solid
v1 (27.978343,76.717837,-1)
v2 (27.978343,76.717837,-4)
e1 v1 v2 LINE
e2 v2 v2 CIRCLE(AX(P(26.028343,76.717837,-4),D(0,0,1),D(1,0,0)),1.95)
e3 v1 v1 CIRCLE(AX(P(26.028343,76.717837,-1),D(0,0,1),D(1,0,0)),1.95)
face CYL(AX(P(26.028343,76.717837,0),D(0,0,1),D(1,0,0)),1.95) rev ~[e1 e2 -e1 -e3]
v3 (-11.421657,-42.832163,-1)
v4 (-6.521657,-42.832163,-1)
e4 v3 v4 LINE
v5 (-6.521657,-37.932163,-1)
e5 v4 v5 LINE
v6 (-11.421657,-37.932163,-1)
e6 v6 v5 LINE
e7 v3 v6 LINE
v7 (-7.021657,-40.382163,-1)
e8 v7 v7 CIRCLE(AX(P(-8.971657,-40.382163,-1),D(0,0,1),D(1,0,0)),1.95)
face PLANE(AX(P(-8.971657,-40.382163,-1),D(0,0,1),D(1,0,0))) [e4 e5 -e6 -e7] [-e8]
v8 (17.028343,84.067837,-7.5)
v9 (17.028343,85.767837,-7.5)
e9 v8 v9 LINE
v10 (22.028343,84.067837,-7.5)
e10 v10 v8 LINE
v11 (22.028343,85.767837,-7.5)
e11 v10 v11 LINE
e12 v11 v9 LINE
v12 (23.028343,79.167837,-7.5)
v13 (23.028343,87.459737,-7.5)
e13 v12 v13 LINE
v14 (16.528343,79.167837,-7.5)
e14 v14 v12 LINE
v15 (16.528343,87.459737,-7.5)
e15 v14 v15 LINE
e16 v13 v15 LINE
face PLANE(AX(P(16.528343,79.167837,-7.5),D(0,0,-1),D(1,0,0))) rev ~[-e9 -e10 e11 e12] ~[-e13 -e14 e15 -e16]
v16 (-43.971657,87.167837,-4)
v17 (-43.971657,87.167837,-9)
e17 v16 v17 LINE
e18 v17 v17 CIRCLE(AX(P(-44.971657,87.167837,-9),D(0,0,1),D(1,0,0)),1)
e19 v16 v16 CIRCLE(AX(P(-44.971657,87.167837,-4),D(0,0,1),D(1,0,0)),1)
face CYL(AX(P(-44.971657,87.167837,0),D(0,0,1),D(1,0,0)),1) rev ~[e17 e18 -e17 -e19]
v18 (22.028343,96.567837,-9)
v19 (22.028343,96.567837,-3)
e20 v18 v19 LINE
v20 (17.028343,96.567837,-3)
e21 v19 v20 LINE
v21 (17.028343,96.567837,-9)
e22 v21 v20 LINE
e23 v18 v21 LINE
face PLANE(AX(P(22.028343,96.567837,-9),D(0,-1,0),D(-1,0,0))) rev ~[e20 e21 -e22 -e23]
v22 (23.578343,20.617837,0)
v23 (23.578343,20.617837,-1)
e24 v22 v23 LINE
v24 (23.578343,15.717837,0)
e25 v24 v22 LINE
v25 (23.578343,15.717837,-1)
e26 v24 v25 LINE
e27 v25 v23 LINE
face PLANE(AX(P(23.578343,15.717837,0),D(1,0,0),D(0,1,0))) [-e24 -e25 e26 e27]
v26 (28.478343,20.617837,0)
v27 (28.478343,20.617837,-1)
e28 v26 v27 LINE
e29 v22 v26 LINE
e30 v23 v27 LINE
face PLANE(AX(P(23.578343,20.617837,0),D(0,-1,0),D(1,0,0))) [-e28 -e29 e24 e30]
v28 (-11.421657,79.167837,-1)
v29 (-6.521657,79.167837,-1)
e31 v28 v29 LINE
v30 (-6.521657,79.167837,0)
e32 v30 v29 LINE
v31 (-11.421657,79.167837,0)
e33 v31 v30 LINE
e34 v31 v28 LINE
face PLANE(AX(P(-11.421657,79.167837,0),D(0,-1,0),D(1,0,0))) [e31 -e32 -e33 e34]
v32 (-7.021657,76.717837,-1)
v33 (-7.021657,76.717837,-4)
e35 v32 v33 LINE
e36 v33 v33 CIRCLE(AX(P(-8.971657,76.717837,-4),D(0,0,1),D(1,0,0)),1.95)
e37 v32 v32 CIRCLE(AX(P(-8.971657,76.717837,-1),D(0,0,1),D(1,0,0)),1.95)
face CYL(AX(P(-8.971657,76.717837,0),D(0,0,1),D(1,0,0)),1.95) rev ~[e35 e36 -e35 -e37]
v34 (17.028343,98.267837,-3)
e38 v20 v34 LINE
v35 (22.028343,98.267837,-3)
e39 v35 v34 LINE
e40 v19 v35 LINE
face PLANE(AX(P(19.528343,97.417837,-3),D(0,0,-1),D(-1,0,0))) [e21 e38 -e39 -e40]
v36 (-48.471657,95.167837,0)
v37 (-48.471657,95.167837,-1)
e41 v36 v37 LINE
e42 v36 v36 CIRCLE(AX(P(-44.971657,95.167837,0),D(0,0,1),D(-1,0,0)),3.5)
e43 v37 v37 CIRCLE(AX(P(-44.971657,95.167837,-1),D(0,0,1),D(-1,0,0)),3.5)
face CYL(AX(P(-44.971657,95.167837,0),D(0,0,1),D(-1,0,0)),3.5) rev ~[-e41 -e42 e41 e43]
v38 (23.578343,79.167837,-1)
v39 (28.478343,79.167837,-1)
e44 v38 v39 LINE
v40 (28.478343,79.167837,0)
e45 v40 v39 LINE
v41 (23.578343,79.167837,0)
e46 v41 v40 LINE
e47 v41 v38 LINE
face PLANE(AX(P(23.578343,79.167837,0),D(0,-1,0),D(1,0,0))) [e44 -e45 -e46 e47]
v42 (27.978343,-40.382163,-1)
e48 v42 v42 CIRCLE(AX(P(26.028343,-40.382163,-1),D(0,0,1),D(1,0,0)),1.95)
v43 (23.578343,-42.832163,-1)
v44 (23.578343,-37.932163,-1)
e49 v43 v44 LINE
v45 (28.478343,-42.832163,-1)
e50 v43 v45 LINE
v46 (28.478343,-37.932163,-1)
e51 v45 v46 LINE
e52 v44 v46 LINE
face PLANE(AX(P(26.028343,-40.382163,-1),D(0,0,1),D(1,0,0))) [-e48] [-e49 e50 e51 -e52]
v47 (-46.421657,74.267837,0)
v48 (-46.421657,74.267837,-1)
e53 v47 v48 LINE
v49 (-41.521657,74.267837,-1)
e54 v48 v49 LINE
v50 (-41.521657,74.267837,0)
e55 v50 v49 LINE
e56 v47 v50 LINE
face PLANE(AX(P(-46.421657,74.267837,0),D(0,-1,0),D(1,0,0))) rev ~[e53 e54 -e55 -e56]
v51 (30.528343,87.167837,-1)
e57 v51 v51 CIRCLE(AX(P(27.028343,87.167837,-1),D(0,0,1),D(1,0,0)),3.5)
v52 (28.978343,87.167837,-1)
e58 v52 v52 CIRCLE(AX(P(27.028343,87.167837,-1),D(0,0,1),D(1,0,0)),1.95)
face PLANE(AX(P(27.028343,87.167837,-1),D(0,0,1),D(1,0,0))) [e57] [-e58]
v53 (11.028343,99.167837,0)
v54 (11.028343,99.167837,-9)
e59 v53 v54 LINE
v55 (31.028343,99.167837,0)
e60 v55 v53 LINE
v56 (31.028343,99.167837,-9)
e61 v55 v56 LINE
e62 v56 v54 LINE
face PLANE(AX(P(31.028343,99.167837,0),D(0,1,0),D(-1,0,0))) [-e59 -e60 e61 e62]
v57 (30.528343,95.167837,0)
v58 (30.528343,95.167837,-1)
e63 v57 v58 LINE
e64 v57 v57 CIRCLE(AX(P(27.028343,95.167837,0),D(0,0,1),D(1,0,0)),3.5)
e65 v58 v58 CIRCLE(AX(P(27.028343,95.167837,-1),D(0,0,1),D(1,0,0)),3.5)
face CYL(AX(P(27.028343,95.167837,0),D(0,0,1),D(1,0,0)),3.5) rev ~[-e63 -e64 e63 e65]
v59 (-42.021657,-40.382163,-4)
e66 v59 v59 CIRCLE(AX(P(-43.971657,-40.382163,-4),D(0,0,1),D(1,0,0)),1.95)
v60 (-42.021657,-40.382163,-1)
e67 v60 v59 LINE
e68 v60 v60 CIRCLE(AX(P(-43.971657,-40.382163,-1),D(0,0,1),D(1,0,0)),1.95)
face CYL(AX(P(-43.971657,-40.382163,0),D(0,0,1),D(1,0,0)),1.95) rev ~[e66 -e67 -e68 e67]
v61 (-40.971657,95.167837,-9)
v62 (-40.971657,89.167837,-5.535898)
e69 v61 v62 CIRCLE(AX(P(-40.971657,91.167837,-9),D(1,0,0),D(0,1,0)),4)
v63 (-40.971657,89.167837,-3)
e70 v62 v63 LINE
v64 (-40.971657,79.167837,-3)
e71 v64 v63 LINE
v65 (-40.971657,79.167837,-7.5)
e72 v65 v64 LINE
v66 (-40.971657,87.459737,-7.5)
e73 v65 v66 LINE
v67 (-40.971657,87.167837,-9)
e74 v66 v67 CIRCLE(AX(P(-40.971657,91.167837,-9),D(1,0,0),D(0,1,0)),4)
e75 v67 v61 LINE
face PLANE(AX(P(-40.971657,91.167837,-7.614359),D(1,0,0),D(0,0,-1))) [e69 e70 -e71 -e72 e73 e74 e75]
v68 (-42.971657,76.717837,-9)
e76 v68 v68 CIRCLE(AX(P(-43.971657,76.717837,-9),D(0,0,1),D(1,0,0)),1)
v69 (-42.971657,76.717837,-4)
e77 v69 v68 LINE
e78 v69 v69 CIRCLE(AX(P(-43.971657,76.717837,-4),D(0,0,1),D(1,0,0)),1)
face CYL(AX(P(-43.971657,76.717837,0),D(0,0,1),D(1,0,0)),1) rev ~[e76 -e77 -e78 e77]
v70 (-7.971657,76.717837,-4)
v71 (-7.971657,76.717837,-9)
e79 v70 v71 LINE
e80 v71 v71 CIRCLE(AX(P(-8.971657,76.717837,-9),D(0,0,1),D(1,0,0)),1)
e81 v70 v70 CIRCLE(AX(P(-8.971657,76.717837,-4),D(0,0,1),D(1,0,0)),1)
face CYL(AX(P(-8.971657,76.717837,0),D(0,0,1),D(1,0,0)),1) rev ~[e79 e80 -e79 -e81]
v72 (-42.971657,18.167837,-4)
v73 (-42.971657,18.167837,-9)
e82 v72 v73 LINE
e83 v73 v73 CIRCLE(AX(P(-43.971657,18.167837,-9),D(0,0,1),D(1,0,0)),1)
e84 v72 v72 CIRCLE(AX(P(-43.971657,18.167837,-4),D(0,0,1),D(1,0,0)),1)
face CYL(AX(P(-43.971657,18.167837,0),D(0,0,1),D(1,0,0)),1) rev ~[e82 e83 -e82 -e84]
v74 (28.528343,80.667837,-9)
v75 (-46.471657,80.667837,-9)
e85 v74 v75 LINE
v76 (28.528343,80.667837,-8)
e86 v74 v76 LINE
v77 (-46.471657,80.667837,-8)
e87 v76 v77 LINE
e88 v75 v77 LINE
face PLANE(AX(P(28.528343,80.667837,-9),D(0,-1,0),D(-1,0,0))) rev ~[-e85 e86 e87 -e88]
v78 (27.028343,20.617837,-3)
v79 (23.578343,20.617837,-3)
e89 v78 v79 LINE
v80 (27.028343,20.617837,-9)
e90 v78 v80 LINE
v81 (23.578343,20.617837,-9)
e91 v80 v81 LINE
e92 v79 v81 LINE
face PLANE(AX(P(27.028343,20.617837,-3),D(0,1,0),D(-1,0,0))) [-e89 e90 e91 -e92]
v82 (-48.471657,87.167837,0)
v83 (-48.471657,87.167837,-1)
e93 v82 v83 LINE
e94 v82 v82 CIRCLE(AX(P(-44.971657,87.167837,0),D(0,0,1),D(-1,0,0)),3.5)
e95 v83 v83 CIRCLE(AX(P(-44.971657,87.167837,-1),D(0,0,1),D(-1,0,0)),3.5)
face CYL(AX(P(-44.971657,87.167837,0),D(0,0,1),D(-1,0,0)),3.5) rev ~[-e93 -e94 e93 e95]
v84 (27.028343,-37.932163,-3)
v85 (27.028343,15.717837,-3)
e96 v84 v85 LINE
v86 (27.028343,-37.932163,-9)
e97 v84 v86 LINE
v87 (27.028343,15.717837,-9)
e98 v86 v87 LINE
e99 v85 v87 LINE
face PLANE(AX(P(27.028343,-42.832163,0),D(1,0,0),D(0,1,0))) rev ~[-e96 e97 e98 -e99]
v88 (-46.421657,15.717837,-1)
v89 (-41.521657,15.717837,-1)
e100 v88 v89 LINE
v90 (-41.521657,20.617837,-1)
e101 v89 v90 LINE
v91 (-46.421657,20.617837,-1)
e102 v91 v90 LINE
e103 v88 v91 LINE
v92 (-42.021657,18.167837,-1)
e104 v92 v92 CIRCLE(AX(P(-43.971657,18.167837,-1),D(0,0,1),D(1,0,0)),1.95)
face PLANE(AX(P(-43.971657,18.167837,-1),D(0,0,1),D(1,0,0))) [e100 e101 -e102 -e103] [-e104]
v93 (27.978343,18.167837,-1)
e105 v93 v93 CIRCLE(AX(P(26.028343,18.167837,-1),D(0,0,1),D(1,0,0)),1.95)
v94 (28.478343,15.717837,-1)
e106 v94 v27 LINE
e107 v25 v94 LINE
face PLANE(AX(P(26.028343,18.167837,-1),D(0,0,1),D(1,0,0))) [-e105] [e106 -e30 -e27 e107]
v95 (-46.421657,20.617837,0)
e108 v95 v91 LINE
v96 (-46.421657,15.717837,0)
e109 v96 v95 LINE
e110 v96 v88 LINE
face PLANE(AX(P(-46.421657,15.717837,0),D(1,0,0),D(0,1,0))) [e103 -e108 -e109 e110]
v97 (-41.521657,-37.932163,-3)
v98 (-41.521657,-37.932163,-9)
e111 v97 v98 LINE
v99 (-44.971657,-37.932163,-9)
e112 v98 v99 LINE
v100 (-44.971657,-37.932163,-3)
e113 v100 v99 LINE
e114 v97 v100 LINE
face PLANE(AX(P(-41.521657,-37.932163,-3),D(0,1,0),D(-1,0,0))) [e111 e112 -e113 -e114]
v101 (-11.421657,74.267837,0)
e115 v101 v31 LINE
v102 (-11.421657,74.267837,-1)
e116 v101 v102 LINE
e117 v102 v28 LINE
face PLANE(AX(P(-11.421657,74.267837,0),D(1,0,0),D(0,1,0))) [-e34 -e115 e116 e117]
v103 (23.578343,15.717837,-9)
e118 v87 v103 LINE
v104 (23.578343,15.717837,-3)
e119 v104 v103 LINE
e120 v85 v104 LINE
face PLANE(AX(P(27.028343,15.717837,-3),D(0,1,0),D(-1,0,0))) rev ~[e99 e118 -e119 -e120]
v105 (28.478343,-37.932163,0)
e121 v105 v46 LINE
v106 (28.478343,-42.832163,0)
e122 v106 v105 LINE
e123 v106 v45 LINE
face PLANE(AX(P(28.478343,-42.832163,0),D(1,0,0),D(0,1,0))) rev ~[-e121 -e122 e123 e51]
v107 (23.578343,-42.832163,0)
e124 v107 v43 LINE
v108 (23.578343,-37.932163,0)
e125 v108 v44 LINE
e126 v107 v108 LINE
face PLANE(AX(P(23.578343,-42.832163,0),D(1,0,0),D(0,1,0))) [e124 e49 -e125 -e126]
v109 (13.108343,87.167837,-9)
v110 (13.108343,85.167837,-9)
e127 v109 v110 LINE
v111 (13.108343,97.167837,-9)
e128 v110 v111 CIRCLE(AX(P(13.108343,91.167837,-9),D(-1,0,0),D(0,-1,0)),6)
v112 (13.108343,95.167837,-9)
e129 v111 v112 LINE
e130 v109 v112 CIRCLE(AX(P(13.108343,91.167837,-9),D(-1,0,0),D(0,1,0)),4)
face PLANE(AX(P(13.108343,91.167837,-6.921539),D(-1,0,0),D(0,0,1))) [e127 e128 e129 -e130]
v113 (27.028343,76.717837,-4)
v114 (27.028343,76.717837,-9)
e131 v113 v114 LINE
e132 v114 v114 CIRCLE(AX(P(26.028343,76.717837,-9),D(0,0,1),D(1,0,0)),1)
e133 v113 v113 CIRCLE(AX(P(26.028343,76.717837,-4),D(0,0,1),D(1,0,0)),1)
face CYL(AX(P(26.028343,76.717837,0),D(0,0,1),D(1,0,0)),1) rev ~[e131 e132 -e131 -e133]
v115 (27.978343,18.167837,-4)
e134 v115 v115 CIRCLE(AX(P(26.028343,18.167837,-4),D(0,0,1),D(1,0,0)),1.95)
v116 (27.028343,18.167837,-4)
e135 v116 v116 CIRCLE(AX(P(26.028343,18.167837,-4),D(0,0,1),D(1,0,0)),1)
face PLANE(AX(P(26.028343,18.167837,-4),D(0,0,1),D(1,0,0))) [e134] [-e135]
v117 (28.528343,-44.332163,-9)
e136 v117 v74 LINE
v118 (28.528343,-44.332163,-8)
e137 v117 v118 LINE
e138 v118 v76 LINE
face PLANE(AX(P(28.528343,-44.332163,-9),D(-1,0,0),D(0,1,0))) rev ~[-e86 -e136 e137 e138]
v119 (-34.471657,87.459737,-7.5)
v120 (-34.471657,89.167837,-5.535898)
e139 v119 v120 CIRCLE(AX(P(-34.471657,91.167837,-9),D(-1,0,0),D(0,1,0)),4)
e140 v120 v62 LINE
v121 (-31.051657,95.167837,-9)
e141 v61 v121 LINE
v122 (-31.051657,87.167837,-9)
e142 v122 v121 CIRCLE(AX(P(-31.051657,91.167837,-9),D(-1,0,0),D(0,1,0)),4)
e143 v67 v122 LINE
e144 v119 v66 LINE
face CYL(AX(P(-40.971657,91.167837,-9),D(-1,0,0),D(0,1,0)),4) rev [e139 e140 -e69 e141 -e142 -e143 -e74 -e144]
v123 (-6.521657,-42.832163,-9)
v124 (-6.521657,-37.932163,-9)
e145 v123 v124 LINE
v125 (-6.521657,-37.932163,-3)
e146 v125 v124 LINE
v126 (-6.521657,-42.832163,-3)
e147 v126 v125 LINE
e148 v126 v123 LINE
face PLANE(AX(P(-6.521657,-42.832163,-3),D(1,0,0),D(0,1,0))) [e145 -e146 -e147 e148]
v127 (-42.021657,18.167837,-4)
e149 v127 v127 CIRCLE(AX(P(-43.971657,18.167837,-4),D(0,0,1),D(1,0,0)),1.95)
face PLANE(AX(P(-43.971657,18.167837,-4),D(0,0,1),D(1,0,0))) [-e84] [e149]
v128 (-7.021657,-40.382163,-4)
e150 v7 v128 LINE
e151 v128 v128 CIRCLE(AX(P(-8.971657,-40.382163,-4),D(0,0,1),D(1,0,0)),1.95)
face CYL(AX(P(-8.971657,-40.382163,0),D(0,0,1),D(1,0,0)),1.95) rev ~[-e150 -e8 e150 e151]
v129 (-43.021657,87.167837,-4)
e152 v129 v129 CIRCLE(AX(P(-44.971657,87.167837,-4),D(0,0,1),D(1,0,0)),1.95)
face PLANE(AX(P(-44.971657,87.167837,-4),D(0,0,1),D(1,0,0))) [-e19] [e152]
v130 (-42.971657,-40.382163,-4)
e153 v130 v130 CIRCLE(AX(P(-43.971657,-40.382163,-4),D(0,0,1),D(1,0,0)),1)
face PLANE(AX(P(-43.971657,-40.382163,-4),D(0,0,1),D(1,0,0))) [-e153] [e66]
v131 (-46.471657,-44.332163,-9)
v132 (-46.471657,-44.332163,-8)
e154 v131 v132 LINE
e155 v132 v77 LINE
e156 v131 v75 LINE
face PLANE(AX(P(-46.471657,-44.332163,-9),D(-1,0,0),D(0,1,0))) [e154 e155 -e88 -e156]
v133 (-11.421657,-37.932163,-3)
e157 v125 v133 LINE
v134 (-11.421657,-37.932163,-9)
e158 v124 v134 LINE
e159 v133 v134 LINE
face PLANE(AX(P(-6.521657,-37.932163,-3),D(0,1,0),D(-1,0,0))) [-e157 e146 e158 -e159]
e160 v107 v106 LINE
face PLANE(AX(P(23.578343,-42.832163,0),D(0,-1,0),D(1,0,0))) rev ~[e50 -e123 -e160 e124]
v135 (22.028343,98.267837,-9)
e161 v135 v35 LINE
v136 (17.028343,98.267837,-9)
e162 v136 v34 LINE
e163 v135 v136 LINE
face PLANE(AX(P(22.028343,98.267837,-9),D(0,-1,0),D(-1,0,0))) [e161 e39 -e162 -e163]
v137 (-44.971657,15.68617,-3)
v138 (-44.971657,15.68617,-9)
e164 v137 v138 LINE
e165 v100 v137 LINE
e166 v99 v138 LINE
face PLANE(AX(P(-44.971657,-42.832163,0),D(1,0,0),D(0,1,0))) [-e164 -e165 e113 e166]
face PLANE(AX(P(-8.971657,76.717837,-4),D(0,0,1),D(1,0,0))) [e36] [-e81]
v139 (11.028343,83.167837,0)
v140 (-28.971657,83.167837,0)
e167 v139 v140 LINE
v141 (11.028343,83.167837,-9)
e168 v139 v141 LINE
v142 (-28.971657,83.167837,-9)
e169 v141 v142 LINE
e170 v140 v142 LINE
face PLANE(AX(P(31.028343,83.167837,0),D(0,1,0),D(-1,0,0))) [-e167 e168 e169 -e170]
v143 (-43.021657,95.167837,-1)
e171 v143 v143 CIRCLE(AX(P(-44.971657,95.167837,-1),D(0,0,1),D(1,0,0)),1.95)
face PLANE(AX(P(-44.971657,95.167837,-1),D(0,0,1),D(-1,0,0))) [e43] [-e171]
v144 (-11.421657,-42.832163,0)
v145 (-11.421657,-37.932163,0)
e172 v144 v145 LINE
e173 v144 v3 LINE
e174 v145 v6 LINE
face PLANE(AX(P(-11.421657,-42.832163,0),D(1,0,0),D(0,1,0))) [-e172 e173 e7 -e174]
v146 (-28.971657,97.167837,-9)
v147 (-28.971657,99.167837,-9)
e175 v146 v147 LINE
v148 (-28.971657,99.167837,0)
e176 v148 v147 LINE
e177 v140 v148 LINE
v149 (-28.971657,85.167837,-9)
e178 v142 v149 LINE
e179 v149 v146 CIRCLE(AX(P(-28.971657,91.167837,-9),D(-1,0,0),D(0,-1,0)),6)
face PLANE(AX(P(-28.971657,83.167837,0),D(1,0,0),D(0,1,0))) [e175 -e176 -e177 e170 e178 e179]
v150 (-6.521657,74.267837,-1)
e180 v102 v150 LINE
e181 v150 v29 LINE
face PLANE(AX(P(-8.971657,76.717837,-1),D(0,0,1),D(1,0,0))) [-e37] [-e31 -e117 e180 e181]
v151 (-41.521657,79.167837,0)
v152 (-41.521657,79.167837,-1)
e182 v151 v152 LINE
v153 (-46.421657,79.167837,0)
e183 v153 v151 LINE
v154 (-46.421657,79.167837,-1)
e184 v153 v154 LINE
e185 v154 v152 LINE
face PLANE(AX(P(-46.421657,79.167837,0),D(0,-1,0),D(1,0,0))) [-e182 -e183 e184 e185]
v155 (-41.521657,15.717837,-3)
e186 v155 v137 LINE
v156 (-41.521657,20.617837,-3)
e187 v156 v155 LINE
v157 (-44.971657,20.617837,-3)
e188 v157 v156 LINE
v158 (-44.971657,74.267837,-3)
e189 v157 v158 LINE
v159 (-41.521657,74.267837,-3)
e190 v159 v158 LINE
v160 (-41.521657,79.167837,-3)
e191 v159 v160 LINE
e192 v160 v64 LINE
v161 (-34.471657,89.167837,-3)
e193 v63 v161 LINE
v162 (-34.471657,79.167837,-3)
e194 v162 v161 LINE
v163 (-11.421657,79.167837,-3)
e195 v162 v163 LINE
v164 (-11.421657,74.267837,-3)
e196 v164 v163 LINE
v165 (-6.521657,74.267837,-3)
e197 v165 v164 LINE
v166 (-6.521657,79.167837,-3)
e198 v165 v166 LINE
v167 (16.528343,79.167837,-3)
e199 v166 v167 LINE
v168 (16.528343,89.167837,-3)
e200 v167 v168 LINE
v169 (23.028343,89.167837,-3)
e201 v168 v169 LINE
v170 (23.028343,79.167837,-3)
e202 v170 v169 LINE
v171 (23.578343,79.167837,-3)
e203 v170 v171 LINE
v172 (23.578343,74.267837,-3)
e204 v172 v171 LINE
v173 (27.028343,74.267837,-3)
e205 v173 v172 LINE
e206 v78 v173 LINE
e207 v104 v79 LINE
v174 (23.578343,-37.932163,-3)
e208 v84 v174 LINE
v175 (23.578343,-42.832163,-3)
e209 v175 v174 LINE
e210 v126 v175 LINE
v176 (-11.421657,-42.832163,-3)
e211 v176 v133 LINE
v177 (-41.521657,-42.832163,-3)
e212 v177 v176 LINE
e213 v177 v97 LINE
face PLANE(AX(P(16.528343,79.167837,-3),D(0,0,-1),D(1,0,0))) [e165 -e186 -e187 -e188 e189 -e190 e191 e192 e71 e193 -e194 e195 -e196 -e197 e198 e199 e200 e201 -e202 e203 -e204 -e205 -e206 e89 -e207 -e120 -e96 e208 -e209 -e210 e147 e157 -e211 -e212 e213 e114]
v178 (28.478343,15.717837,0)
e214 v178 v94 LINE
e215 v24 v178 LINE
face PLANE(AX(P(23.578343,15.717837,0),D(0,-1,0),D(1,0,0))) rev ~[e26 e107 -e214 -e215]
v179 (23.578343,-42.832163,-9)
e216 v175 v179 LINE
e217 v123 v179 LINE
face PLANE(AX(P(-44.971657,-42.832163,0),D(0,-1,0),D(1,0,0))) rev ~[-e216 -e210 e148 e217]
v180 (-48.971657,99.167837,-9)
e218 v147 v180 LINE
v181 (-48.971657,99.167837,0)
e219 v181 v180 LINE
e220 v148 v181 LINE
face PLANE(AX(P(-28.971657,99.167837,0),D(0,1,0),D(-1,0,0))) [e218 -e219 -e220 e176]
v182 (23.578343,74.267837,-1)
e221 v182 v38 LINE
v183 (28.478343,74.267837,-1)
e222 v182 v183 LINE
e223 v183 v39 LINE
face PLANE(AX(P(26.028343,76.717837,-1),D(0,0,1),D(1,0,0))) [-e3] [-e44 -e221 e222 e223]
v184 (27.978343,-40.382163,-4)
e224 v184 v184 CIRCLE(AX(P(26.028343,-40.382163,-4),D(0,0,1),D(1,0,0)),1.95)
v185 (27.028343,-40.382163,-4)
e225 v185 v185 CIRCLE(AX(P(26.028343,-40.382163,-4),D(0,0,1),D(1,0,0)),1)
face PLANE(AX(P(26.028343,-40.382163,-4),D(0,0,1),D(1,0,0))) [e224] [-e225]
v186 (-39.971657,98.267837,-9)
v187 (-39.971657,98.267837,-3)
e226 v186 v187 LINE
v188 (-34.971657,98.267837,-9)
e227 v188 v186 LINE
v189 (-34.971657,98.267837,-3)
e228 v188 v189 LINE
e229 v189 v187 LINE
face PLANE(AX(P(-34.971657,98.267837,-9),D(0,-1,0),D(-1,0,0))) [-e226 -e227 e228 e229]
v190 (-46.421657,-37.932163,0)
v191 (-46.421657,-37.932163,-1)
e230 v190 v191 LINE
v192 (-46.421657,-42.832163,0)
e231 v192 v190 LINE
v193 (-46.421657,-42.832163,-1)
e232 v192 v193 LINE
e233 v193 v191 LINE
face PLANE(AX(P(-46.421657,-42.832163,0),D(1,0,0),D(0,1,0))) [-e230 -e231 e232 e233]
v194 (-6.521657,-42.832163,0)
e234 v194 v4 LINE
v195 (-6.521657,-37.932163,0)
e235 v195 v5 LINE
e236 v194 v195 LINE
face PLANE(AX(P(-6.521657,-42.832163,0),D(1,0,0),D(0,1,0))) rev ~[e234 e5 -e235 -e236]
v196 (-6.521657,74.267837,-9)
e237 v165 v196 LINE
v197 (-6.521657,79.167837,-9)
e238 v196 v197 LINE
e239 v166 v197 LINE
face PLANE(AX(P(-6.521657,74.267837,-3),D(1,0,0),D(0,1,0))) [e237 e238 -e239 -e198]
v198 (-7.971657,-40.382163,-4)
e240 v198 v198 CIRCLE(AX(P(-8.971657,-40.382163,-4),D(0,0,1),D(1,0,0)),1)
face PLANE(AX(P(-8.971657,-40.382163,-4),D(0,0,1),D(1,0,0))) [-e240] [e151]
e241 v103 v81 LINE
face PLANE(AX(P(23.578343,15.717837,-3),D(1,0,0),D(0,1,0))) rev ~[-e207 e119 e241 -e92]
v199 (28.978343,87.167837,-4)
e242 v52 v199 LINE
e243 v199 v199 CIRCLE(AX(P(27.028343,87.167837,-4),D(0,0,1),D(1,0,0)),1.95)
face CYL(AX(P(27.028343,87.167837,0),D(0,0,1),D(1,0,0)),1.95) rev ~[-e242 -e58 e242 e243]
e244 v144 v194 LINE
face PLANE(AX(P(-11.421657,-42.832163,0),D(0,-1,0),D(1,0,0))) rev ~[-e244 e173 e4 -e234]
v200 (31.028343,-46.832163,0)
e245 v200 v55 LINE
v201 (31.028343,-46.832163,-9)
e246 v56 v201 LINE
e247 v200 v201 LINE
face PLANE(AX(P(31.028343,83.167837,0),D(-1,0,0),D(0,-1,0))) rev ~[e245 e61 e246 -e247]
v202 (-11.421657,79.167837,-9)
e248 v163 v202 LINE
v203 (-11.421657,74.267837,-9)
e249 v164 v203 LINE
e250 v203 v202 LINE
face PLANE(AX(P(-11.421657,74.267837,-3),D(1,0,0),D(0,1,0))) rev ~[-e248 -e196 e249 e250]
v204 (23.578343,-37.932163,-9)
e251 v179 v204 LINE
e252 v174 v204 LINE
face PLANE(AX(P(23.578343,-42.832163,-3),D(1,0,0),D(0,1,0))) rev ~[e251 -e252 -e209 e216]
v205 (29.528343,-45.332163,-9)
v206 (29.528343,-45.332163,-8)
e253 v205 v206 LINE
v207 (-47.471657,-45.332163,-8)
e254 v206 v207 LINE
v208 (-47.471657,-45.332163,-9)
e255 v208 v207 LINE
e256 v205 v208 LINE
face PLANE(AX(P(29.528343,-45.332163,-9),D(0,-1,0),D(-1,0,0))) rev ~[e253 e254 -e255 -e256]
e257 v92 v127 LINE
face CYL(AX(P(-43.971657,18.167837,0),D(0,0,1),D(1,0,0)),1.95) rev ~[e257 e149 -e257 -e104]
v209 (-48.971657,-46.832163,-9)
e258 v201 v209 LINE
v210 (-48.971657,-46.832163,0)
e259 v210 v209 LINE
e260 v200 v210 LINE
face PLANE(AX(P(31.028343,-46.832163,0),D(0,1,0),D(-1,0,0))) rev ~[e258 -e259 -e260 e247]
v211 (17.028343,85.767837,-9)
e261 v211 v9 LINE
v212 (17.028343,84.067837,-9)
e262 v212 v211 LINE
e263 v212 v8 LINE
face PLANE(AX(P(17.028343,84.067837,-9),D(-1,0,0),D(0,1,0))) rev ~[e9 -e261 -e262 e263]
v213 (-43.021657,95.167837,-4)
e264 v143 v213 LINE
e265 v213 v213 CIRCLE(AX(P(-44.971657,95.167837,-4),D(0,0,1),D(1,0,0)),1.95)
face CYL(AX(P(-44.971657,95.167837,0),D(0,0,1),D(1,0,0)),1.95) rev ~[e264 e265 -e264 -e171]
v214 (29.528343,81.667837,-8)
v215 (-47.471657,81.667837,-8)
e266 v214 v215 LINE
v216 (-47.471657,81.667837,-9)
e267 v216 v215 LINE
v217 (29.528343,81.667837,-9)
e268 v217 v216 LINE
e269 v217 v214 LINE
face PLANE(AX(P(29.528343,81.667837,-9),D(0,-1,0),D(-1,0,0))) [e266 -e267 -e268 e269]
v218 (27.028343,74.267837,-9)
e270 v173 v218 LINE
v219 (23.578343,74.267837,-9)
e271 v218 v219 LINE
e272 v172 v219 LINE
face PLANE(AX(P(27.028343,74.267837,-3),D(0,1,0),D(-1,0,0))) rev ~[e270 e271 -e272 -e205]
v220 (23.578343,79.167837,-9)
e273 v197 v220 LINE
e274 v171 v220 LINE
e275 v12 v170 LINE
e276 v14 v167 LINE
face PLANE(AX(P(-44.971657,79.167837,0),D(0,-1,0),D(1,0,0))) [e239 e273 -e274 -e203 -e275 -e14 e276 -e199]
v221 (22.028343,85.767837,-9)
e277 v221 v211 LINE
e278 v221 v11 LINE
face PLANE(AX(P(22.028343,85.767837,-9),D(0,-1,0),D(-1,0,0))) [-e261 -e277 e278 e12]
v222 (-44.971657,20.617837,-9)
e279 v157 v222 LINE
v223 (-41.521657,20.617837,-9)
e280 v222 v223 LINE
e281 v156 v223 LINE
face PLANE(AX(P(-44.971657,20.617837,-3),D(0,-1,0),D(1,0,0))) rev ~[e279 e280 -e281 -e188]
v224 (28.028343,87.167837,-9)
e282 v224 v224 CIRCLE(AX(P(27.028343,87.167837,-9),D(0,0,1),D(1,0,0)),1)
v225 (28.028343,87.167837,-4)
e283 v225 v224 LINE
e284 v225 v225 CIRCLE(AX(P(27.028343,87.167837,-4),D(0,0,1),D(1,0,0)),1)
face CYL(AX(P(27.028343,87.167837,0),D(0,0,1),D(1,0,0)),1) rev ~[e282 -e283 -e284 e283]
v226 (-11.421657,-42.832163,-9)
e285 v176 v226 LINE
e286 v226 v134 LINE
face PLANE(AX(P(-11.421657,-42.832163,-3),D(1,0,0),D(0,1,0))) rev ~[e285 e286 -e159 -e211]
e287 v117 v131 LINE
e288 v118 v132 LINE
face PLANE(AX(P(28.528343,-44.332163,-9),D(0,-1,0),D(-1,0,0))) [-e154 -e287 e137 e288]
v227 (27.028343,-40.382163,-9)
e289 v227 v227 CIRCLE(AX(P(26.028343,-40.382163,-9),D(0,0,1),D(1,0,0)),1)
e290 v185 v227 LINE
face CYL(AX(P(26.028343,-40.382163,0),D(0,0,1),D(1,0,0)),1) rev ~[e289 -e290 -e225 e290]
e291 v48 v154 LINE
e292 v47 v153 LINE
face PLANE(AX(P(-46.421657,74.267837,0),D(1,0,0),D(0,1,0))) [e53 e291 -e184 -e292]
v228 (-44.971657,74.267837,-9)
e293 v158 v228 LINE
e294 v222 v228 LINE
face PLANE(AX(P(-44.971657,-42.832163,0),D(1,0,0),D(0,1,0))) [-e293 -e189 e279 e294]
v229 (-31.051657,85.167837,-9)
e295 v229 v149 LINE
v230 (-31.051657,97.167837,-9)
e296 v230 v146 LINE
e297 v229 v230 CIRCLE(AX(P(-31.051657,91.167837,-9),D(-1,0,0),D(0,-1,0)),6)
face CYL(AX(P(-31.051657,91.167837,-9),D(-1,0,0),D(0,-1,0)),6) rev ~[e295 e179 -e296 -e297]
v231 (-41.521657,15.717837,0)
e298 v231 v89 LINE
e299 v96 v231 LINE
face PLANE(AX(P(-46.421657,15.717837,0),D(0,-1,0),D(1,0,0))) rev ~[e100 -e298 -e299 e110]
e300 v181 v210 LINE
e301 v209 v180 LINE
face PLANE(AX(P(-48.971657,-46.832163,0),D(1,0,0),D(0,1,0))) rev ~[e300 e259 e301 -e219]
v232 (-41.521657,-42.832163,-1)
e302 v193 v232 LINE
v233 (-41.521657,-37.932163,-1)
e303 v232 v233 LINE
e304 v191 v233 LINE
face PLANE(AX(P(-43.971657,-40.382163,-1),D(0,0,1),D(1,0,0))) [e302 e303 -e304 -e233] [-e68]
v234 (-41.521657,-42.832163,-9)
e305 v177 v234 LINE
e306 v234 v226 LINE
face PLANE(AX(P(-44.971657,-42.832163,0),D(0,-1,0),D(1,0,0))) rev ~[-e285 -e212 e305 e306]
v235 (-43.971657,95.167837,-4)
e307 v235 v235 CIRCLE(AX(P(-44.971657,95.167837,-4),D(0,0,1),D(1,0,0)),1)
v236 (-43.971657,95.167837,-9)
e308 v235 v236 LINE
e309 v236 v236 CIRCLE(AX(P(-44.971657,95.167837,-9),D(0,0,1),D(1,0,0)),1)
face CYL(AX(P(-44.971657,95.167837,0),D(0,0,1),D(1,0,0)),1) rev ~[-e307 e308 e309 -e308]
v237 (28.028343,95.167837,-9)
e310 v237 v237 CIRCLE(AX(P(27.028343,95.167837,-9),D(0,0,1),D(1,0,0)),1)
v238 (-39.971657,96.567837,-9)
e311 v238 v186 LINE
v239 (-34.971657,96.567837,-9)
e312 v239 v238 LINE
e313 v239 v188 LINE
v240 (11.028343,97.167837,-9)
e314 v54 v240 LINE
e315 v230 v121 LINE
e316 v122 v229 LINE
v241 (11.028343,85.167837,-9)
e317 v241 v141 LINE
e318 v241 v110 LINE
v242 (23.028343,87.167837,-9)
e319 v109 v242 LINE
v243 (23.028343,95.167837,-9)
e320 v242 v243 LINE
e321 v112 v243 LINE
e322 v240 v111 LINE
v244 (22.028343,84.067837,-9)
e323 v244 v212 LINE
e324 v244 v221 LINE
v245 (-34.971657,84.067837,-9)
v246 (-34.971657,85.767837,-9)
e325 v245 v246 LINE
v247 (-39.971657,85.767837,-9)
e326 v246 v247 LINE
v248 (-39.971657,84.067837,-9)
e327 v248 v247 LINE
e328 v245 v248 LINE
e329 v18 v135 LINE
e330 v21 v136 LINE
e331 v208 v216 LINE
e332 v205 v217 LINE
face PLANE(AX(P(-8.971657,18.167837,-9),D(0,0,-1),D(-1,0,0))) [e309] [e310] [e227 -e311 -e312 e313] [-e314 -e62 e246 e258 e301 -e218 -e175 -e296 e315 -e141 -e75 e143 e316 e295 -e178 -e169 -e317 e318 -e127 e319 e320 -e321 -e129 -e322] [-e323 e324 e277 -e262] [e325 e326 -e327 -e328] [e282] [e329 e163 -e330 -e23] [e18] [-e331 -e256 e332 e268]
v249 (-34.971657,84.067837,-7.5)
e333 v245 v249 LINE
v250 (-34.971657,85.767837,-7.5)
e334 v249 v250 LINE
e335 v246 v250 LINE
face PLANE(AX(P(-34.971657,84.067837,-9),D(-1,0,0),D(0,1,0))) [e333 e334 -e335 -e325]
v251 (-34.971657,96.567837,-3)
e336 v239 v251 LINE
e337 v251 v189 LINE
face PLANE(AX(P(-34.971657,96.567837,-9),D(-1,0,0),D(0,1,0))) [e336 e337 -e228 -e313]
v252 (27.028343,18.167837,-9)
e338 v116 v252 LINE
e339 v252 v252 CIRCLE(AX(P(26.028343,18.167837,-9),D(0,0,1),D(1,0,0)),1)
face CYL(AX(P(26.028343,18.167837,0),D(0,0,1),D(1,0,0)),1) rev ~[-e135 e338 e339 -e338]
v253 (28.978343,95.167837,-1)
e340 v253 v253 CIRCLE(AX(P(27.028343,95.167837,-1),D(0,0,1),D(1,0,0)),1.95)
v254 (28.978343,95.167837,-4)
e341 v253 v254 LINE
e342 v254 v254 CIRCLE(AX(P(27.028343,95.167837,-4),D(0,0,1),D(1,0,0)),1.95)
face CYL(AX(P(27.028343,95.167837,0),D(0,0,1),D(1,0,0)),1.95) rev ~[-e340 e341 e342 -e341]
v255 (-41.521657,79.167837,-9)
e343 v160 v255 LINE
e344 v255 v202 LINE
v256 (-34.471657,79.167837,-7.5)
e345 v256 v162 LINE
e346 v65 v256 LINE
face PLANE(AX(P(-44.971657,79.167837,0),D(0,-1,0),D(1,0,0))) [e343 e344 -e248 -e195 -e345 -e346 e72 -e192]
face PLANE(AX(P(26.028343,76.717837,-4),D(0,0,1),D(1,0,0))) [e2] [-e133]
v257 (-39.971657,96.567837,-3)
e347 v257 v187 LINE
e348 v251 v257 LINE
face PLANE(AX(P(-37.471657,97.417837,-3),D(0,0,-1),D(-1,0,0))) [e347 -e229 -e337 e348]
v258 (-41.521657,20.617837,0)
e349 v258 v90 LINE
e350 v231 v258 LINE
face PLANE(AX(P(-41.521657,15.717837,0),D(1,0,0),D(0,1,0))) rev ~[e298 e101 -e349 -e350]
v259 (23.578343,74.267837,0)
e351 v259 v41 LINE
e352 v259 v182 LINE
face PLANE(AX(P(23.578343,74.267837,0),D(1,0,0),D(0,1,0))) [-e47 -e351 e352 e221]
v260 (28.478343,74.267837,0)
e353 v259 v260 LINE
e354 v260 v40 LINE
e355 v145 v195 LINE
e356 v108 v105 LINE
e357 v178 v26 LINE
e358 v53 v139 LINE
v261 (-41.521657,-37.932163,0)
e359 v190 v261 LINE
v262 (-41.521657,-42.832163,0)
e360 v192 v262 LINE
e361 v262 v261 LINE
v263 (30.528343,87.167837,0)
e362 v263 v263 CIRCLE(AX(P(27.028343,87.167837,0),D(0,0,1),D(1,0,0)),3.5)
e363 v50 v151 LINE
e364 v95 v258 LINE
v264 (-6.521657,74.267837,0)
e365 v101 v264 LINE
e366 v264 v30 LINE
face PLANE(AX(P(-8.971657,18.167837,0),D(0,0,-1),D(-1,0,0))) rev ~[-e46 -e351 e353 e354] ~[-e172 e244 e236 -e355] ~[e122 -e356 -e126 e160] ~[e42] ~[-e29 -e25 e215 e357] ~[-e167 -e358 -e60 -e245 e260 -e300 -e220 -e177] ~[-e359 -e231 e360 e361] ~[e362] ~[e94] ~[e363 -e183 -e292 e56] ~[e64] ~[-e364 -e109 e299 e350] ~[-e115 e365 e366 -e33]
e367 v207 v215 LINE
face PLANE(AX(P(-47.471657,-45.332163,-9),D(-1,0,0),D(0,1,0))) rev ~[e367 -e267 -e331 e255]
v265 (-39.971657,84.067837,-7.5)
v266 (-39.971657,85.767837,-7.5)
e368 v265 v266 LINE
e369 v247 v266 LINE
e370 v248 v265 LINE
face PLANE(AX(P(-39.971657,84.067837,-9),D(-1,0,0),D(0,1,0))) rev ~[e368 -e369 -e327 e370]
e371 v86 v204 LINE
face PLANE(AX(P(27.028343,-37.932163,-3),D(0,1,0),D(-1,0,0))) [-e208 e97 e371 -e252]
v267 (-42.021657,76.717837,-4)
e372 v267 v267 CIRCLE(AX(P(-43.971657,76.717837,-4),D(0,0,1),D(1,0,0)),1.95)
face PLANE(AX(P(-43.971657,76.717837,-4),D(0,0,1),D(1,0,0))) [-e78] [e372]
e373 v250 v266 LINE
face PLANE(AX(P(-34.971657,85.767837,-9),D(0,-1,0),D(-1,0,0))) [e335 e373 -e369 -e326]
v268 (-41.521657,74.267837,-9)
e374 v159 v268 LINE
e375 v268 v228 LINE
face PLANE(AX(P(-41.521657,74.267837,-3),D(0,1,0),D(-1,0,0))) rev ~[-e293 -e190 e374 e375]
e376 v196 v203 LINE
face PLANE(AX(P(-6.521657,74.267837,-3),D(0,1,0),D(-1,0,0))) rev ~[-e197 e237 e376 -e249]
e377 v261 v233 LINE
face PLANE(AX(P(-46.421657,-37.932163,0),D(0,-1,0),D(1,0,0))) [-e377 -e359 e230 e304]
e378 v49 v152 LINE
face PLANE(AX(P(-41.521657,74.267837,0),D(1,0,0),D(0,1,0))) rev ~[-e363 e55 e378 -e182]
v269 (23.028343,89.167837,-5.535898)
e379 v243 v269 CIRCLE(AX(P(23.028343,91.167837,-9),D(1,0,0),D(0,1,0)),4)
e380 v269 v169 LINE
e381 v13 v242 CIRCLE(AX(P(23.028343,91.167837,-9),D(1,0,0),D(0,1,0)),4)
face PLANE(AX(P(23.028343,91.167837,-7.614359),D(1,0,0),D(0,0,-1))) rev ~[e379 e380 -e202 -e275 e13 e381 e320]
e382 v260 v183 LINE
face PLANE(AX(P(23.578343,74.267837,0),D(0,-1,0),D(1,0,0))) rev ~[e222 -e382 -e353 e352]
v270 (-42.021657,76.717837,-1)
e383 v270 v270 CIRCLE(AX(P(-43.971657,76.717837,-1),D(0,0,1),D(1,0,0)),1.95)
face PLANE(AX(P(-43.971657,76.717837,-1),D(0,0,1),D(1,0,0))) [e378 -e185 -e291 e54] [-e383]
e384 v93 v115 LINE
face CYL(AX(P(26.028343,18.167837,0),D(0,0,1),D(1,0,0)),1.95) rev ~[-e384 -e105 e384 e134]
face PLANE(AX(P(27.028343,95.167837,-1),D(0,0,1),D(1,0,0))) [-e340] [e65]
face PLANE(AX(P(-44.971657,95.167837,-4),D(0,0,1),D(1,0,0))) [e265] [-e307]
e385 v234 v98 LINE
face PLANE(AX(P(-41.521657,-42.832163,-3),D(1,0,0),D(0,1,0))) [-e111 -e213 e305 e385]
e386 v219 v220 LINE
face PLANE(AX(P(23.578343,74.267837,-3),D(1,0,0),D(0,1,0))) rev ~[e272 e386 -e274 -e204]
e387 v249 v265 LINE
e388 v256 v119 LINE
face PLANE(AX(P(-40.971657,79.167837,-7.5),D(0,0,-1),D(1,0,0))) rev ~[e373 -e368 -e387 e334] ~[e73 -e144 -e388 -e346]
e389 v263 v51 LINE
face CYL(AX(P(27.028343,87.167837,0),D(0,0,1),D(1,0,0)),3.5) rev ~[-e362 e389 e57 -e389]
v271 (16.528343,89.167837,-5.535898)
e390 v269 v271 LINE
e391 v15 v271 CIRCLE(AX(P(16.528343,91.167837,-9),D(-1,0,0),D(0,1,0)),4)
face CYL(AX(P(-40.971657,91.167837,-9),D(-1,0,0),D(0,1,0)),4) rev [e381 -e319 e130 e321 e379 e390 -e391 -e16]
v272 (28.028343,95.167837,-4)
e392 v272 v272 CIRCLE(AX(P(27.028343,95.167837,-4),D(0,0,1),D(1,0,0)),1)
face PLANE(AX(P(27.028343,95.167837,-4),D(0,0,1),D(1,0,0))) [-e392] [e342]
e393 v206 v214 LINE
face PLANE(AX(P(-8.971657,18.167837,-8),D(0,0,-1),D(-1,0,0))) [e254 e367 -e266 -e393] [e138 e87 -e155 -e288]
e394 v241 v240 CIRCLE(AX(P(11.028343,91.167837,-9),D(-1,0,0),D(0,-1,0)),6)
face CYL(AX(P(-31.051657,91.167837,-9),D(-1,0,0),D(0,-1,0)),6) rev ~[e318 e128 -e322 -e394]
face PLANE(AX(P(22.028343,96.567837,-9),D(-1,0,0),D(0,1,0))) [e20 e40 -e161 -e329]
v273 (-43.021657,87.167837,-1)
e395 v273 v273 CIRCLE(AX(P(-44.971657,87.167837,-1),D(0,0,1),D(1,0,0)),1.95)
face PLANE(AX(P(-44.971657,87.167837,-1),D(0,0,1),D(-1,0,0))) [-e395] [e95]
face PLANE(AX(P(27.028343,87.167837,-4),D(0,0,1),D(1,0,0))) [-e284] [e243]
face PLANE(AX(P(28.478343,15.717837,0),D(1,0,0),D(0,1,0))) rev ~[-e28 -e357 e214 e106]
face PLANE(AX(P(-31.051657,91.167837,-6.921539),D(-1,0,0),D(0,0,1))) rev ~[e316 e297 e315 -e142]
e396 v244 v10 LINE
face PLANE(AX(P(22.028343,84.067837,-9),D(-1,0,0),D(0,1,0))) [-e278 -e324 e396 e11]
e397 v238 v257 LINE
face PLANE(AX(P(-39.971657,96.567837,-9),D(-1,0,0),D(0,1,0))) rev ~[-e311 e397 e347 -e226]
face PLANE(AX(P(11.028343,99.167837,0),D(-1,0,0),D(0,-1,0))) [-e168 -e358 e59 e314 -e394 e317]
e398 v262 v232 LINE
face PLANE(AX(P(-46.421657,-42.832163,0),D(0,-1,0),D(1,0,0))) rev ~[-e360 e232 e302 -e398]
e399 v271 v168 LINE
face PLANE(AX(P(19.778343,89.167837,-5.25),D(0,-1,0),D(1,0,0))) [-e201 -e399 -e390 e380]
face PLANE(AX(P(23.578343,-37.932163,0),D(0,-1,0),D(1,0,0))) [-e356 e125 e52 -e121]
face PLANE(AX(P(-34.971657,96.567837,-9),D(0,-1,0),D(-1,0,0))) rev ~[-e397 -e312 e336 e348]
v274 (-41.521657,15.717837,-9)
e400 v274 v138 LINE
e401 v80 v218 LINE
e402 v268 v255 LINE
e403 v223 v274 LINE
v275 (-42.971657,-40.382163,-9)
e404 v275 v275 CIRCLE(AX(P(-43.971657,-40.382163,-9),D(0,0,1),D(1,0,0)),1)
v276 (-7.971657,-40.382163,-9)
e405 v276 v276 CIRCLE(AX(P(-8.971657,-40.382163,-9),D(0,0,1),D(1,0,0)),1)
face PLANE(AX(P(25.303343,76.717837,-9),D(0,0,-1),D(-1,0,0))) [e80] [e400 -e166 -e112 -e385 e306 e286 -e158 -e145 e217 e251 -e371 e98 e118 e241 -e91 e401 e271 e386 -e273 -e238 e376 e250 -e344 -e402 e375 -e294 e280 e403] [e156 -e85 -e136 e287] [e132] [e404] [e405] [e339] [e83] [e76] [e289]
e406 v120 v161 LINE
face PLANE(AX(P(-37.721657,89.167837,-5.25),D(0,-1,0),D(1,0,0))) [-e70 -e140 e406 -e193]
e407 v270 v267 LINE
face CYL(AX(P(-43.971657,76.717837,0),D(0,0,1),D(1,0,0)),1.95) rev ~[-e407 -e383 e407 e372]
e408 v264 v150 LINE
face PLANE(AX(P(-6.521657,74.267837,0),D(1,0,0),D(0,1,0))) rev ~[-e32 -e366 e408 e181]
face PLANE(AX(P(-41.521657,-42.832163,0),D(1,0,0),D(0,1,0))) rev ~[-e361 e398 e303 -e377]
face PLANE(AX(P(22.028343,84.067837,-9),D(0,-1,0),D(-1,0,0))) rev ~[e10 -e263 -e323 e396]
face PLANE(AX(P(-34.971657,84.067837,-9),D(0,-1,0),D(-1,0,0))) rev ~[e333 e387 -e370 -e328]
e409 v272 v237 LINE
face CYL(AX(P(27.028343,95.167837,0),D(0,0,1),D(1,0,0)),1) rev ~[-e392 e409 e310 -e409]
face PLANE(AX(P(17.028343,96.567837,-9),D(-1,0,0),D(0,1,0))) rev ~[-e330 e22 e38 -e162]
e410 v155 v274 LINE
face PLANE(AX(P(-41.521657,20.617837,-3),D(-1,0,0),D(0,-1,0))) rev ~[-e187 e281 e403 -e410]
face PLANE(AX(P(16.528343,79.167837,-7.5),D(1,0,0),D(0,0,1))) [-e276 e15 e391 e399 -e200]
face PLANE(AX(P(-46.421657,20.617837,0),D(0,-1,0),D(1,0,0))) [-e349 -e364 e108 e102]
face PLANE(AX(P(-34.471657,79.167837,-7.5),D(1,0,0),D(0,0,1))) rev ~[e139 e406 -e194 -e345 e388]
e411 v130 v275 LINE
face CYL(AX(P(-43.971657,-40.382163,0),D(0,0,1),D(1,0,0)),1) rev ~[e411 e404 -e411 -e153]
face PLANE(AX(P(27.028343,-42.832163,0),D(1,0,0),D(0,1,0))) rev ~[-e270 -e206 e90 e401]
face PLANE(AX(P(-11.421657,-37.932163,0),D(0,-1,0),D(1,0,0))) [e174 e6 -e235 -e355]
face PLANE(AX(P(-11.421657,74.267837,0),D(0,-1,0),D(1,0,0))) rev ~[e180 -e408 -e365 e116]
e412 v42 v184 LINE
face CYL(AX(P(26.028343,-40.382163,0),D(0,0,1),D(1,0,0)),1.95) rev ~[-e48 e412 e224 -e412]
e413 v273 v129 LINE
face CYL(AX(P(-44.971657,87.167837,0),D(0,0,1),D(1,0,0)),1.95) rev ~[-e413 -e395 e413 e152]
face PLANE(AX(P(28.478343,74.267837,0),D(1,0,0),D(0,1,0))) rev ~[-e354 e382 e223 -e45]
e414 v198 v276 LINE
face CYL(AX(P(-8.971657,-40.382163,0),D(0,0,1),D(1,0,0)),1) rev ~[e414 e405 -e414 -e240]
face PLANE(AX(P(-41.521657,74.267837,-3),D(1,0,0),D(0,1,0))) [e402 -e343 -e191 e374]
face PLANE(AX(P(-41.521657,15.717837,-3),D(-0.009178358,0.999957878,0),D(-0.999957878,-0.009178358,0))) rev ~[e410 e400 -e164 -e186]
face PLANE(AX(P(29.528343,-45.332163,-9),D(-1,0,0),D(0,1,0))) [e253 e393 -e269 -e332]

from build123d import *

# Parameters (mm, degrees)
IZIM1_W                       = 20
IZIM1_H                       = 16
Y_KSEKLIK_EKSTR_ZYON3_DEPTH   = 9
Y_KSEKLIK_EKSTR_ZYON3_2_DEPTH = 9
IZIM1_4_W                     = 72
IZIM1_4_H                     = 122
Y_KSEKLIK_EKSTR_ZYON4_DEPTH   = 3
IZIM1_5_W                     = 72
IZIM1_5_H                     = 122
Y_KSEKLIK_EKSTR_ZYON5_DEPTH   = 9
KES_EKSTR_ZYON5_DEPTH         = 52
KES_EKSTR_ZYON5_DEPTH_BACK    = 12
KES_EKSTR_ZYON6_DEPTH         = 42.08
KES_EKSTR_ZYON6_DEPTH_BACK    = 2.08
IZIM8_W                       = 77
IZIM8_H                       = 127
IZIM8_W_2                     = 75
IZIM8_H_2                     = 125
KES_EKSTR_ZYON9_DEPTH         = 1
IZIM9_W                       = 6.5
IZIM9_H                       = 4.5
KES_EKSTR_ZYON14_DEPTH        = 10
CENTIK_EKLEM_W                = 5
CENTIK_EKLEM_H                = 1.7
KES_EKSTR_ZYON15_DEPTH        = 6
IZIM17_W                      = 3.45
IZIM17_H                      = 4.9
IZIM17_W_2                    = 4.9
Y_KSEKLIK_EKSTR_ZYON6_DEPTH   = 6
SOMUN_YUVALAR_R               = 1
KES_EKSTR_ZYON16_DEPTH        = 9
SOMUN_YUVALAR_3_R             = 1.95
SOMUN_YUVALAR_3_R_2           = 1
KES_EKSTR_ZYON17_DEPTH        = 4
SOMUN_YUVALAR_4_W             = 4.9
SOMUN_YUVALAR_4_H             = 4.9
SOMUN_YUVALAR_4_R             = 1.95
SOMUN_YUVALAR_4_R_2           = 3.5
KES_EKSTR_ZYON18_DEPTH        = 1


with BuildPart() as part:
    # Çizim1 → Yükseklik-Ekstrüzyon3 (new body)
    with BuildSketch(Plane.XY):
        with Locations((-38.971656999, 91.167836594)):
            Rectangle(IZIM1_W, IZIM1_H)
    extrude(amount=-Y_KSEKLIK_EKSTR_ZYON3_DEPTH)



with BuildPart() as body_2:
    # Çizim1 → Y_kseklik-Ekstr_zyon3 2 (new body)
    with BuildSketch(Plane.XY):
        with Locations((21.028343001, 91.167836594)):
            Rectangle(IZIM1_W, IZIM1_H)
    extrude(amount=-Y_KSEKLIK_EKSTR_ZYON3_2_DEPTH)


with BuildPart() as body_3:
    # Çizim1<4> → Yükseklik-Ekstrüzyon4 (new body)
    with BuildSketch(Plane.XY):
        with Locations((-8.971656999, 18.167836594)):
            Rectangle(IZIM1_4_W, IZIM1_4_H)
    extrude(amount=-Y_KSEKLIK_EKSTR_ZYON4_DEPTH)


with BuildPart() as part_1:
    add(part.part)

    add(body_2.part)  # Yükseklik-Ekstrüzyon5 merges body 2

    add(body_3.part)  # Yükseklik-Ekstrüzyon5 merges body 3
    # Çizim1<5> → Yükseklik-Ekstrüzyon5 (add)
    with BuildSketch(Plane.XY):
        Polygon((-28.971656999, 83.167836594), (-48.971656999, 83.167836594), (-48.971656999, -46.832163406), (31.028343001, -46.832163406), (31.028343001, 83.167836594), (11.028343001, 83.167836594), align=None)
        with Locations((-8.971656999, 18.167836594)):
            Rectangle(IZIM1_5_W, IZIM1_5_H, mode=Mode.SUBTRACT)
    extrude(amount=-Y_KSEKLIK_EKSTR_ZYON5_DEPTH)

    # Çizim2 → Kes-Ekstrüzyon5 (cut, two sides: drawn at the far end of the back side and taken through both)
    with BuildSketch(Plane(origin=(-28.971656999, 0, 0), x_dir=(0, 0, -1), z_dir=(1, 0, 0)).offset(-KES_EKSTR_ZYON5_DEPTH_BACK)):
        with BuildLine():
            Line((9, 87.167836594), (9, 95.167836594))
            ThreePointArc((9, 95.167836594), (5, 91.167836594), (9, 87.167836594))
        make_face()
    extrude(amount=KES_EKSTR_ZYON5_DEPTH + KES_EKSTR_ZYON5_DEPTH_BACK, mode=Mode.SUBTRACT)

    # Çizim2<3> → Kes-Ekstrüzyon6 (cut, two sides: drawn at the far end of the back side and taken through both)
    with BuildSketch(Plane(origin=(-28.971656999, 0, 0), x_dir=(0, 0, -1), z_dir=(1, 0, 0)).offset(-KES_EKSTR_ZYON6_DEPTH_BACK)):
        with BuildLine():
            Line((9, 95.167836594), (9, 97.167836594))
            ThreePointArc((9, 97.167836594), (3, 91.167836594), (9, 85.167836594))
            Line((9, 85.167836594), (9, 87.167836594))
            ThreePointArc((9, 87.167836594), (5, 91.167836594), (9, 95.167836594))
        make_face()
    extrude(amount=KES_EKSTR_ZYON6_DEPTH + KES_EKSTR_ZYON6_DEPTH_BACK, mode=Mode.SUBTRACT)

    # Çizim8 → Kes-Ekstrüzyon9 (cut)
    with BuildSketch(Plane(origin=(0, 0, -9), x_dir=(-1, 0, 0), z_dir=(0, 0, -1))):
        with Locations((8.971656999, 18.167836594)):
            Rectangle(IZIM8_W, IZIM8_H)
        with Locations((8.971656999, 18.167836594)):
            Rectangle(IZIM8_W_2, IZIM8_H_2, mode=Mode.SUBTRACT)
    extrude(amount=-KES_EKSTR_ZYON9_DEPTH, mode=Mode.SUBTRACT)

    # Çizim9 → Kes-Ekstrüzyon14 (cut)
    with BuildSketch(Plane.XZ.offset(-79.167836594)):
        with Locations((-37.721656999, -5.25)):
            Rectangle(IZIM9_W, IZIM9_H)
        with Locations((19.778343001, -5.25)):
            Rectangle(IZIM9_W, IZIM9_H)
    extrude(amount=-KES_EKSTR_ZYON14_DEPTH, mode=Mode.SUBTRACT)

    # centik_eklem → Kes-Ekstrüzyon15 (cut)
    with BuildSketch(Plane(origin=(0, 0, -9), x_dir=(-1, 0, 0), z_dir=(0, 0, -1))):
        with Locations((-19.528343001, 97.417836594)):
            Rectangle(CENTIK_EKLEM_W, CENTIK_EKLEM_H)
        with Locations((-19.528343001, 84.917836594)):
            Rectangle(CENTIK_EKLEM_W, CENTIK_EKLEM_H)
        with Locations((37.471656999, 84.917836594)):
            Rectangle(CENTIK_EKLEM_W, CENTIK_EKLEM_H)
        with Locations((37.471656999, 97.417836594)):
            Rectangle(CENTIK_EKLEM_W, CENTIK_EKLEM_H)
    extrude(amount=-KES_EKSTR_ZYON15_DEPTH, mode=Mode.SUBTRACT)

    # Çizim17 → Yükseklik-Ekstrüzyon6 (add)
    with BuildSketch(Plane(origin=(0, 0, -3), x_dir=(-1, 0, 0), z_dir=(0, 0, -1))):
        with Locations((-25.303343001, 76.717836594)):
            Rectangle(IZIM17_W, IZIM17_H)
        with Locations((-25.303343001, 18.167836594)):
            Rectangle(IZIM17_W, IZIM17_H)
        with Locations((8.971656999, 76.717836594)):
            Rectangle(IZIM17_W_2, IZIM17_H)
        with Locations((-25.303343001, -40.382163406)):
            Rectangle(IZIM17_W, IZIM17_H)
        with Locations((43.246656999, 76.717836594)):
            Rectangle(IZIM17_W, IZIM17_H)
        with Locations((8.971656999, -40.382163406)):
            Rectangle(IZIM17_W_2, IZIM17_H)
        Polygon((44.971656999, 15.686169924), (44.971656999, 20.617836594), (41.521656999, 20.617836594), (41.521656999, 15.717836594), align=None)
        with Locations((43.246656999, -40.382163406)):
            Rectangle(IZIM17_W, IZIM17_H)
    extrude(amount=Y_KSEKLIK_EKSTR_ZYON6_DEPTH)

    # somun_yuvalar → Kes-Ekstrüzyon16 (cut)
    with BuildSketch(Plane.XY):
        with Locations((-8.971656999, 76.717836594)):
            Circle(SOMUN_YUVALAR_R)
        with Locations((-44.971656999, 87.167836594)):
            Circle(SOMUN_YUVALAR_R)
        with Locations((-44.971656999, 95.167836594)):
            Circle(SOMUN_YUVALAR_R)
        with Locations((27.028343001, 95.167836594)):
            Circle(SOMUN_YUVALAR_R)
        with Locations((27.028343001, 87.167836594)):
            Circle(SOMUN_YUVALAR_R)
        with Locations((26.028343001, 76.717836594)):
            Circle(SOMUN_YUVALAR_R)
        with Locations((-43.971656999, 76.717836594)):
            Circle(SOMUN_YUVALAR_R)
        with Locations((-8.971656999, -40.382163406)):
            Circle(SOMUN_YUVALAR_R)
        with Locations((26.028343001, -40.382163406)):
            Circle(SOMUN_YUVALAR_R)
        with Locations((-43.971656999, -40.382163406)):
            Circle(SOMUN_YUVALAR_R)
        with Locations((-43.971656999, 18.167836594)):
            Circle(SOMUN_YUVALAR_R)
        with Locations((26.028343001, 18.167836594)):
            Circle(SOMUN_YUVALAR_R)
    extrude(amount=-KES_EKSTR_ZYON16_DEPTH, mode=Mode.SUBTRACT)

    # somun_yuvalar<3> → Kes-Ekstrüzyon17 (cut)
    # profile 1 of 12: a face of its own
    with BuildSketch(Plane.XY):
        with Locations((27.028343001, 95.167836594)):
            Circle(SOMUN_YUVALAR_3_R)
        with Locations((27.028343001, 95.167836594)):
            Circle(SOMUN_YUVALAR_3_R_2, mode=Mode.SUBTRACT)
    # profile 2 of 12: a face of its own
    with BuildSketch(Plane.XY):
        with Locations((27.028343001, 87.167836594)):
            Circle(SOMUN_YUVALAR_3_R)
        with Locations((27.028343001, 87.167836594)):
            Circle(SOMUN_YUVALAR_3_R_2, mode=Mode.SUBTRACT)
    # profile 3 of 12: a face of its own
    with BuildSketch(Plane.XY):
        with Locations((-44.971656999, 87.167836594)):
            Circle(SOMUN_YUVALAR_3_R)
        with Locations((-44.971656999, 87.167836594)):
            Circle(SOMUN_YUVALAR_3_R_2, mode=Mode.SUBTRACT)
    # profile 4 of 12: a face of its own
    with BuildSketch(Plane.XY):
        with Locations((-44.971656999, 95.167836594)):
            Circle(SOMUN_YUVALAR_3_R)
        with Locations((-44.971656999, 95.167836594)):
            Circle(SOMUN_YUVALAR_3_R_2, mode=Mode.SUBTRACT)
    # profile 5 of 12: a face of its own
    with BuildSketch(Plane.XY):
        with Locations((-8.971656999, 76.717836594)):
            Circle(SOMUN_YUVALAR_3_R)
        with Locations((-8.971656999, 76.717836594)):
            Circle(SOMUN_YUVALAR_3_R_2, mode=Mode.SUBTRACT)
    # profile 6 of 12: a face of its own
    with BuildSketch(Plane.XY):
        with Locations((26.028343001, 76.717836594)):
            Circle(SOMUN_YUVALAR_3_R)
        with Locations((26.028343001, 76.717836594)):
            Circle(SOMUN_YUVALAR_3_R_2, mode=Mode.SUBTRACT)
    # profile 7 of 12: a face of its own
    with BuildSketch(Plane.XY):
        with Locations((-43.971656999, 76.717836594)):
            Circle(SOMUN_YUVALAR_3_R)
        with Locations((-43.971656999, 76.717836594)):
            Circle(SOMUN_YUVALAR_3_R_2, mode=Mode.SUBTRACT)
    # profile 8 of 12: a face of its own
    with BuildSketch(Plane.XY):
        with Locations((26.028343001, -40.382163406)):
            Circle(SOMUN_YUVALAR_3_R)
        with Locations((26.028343001, -40.382163406)):
            Circle(SOMUN_YUVALAR_3_R_2, mode=Mode.SUBTRACT)
    # profile 9 of 12: a face of its own
    with BuildSketch(Plane.XY):
        with Locations((-8.971656999, -40.382163406)):
            Circle(SOMUN_YUVALAR_3_R)
        with Locations((-8.971656999, -40.382163406)):
            Circle(SOMUN_YUVALAR_3_R_2, mode=Mode.SUBTRACT)
    # profile 10 of 12: a face of its own
    with BuildSketch(Plane.XY):
        with Locations((-43.971656999, -40.382163406)):
            Circle(SOMUN_YUVALAR_3_R)
        with Locations((-43.971656999, -40.382163406)):
            Circle(SOMUN_YUVALAR_3_R_2, mode=Mode.SUBTRACT)
    # profile 11 of 12: a face of its own
    with BuildSketch(Plane.XY):
        with Locations((-43.971656999, 18.167836594)):
            Circle(SOMUN_YUVALAR_3_R)
        with Locations((-43.971656999, 18.167836594)):
            Circle(SOMUN_YUVALAR_3_R_2, mode=Mode.SUBTRACT)
    # profile 12 of 12: a face of its own
    with BuildSketch(Plane.XY):
        with Locations((26.028343001, 18.167836594)):
            Circle(SOMUN_YUVALAR_3_R)
        with Locations((26.028343001, 18.167836594)):
            Circle(SOMUN_YUVALAR_3_R_2, mode=Mode.SUBTRACT)
    extrude(amount=-KES_EKSTR_ZYON17_DEPTH, mode=Mode.SUBTRACT)

    # somun_yuvalar<4> → Kes-Ekstrüzyon18 (cut)
    # profile 1 of 12: a face of its own
    with BuildSketch(Plane.XY):
        with Locations((-8.971656999, 76.717836594)):
            Rectangle(SOMUN_YUVALAR_4_W, SOMUN_YUVALAR_4_H)
        with Locations((-8.971656999, 76.717836594)):
            Circle(SOMUN_YUVALAR_4_R, mode=Mode.SUBTRACT)
    # profile 2 of 12: a face of its own
    with BuildSketch(Plane.XY):
        with Locations((26.028343001, 76.717836594)):
            Rectangle(SOMUN_YUVALAR_4_W, SOMUN_YUVALAR_4_H)
        with Locations((26.028343001, 76.717836594)):
            Circle(SOMUN_YUVALAR_4_R, mode=Mode.SUBTRACT)
    # profile 3 of 12: a face of its own
    with BuildSketch(Plane.XY):
        with Locations((-43.971656999, 76.717836594)):
            Rectangle(SOMUN_YUVALAR_4_W, SOMUN_YUVALAR_4_H)
        with Locations((-43.971656999, 76.717836594)):
            Circle(SOMUN_YUVALAR_4_R, mode=Mode.SUBTRACT)
    # profile 4 of 12: a face of its own
    with BuildSketch(Plane.XY):
        with Locations((-8.971656999, -40.382163406)):
            Rectangle(SOMUN_YUVALAR_4_W, SOMUN_YUVALAR_4_H)
        with Locations((-8.971656999, -40.382163406)):
            Circle(SOMUN_YUVALAR_4_R, mode=Mode.SUBTRACT)
    # profile 5 of 12: a face of its own
    with BuildSketch(Plane.XY):
        with Locations((26.028343001, -40.382163406)):
            Rectangle(SOMUN_YUVALAR_4_W, SOMUN_YUVALAR_4_H)
        with Locations((26.028343001, -40.382163406)):
            Circle(SOMUN_YUVALAR_4_R, mode=Mode.SUBTRACT)
    # profile 6 of 12: a face of its own
    with BuildSketch(Plane.XY):
        with Locations((-43.971656999, -40.382163406)):
            Rectangle(SOMUN_YUVALAR_4_W, SOMUN_YUVALAR_4_H)
        with Locations((-43.971656999, -40.382163406)):
            Circle(SOMUN_YUVALAR_4_R, mode=Mode.SUBTRACT)
    # profile 7 of 12: a face of its own
    with BuildSketch(Plane.XY):
        with Locations((-43.971656999, 18.167836594)):
            Rectangle(SOMUN_YUVALAR_4_W, SOMUN_YUVALAR_4_H)
        with Locations((-43.971656999, 18.167836594)):
            Circle(SOMUN_YUVALAR_4_R, mode=Mode.SUBTRACT)
    # profile 8 of 12: a face of its own
    with BuildSketch(Plane.XY):
        with Locations((26.028343001, 18.167836594)):
            Rectangle(SOMUN_YUVALAR_4_W, SOMUN_YUVALAR_4_H)
        with Locations((26.028343001, 18.167836594)):
            Circle(SOMUN_YUVALAR_4_R, mode=Mode.SUBTRACT)
    # profile 9 of 12: a face of its own
    with BuildSketch(Plane.XY):
        with Locations((27.028343001, 95.167836594)):
            Circle(SOMUN_YUVALAR_4_R_2)
    # profile 10 of 12: a face of its own
    with BuildSketch(Plane.XY):
        with Locations((27.028343001, 87.167836594)):
            Circle(SOMUN_YUVALAR_4_R_2)
    # profile 11 of 12: a face of its own
    with BuildSketch(Plane.XY):
        with Locations((-44.971656999, 87.167836594)):
            Circle(SOMUN_YUVALAR_4_R_2)
    # profile 12 of 12: a face of its own
    with BuildSketch(Plane.XY):
        with Locations((-44.971656999, 95.167836594)):
            Circle(SOMUN_YUVALAR_4_R_2)
    extrude(amount=-KES_EKSTR_ZYON18_DEPTH, mode=Mode.SUBTRACT)


solid = part_1.part
